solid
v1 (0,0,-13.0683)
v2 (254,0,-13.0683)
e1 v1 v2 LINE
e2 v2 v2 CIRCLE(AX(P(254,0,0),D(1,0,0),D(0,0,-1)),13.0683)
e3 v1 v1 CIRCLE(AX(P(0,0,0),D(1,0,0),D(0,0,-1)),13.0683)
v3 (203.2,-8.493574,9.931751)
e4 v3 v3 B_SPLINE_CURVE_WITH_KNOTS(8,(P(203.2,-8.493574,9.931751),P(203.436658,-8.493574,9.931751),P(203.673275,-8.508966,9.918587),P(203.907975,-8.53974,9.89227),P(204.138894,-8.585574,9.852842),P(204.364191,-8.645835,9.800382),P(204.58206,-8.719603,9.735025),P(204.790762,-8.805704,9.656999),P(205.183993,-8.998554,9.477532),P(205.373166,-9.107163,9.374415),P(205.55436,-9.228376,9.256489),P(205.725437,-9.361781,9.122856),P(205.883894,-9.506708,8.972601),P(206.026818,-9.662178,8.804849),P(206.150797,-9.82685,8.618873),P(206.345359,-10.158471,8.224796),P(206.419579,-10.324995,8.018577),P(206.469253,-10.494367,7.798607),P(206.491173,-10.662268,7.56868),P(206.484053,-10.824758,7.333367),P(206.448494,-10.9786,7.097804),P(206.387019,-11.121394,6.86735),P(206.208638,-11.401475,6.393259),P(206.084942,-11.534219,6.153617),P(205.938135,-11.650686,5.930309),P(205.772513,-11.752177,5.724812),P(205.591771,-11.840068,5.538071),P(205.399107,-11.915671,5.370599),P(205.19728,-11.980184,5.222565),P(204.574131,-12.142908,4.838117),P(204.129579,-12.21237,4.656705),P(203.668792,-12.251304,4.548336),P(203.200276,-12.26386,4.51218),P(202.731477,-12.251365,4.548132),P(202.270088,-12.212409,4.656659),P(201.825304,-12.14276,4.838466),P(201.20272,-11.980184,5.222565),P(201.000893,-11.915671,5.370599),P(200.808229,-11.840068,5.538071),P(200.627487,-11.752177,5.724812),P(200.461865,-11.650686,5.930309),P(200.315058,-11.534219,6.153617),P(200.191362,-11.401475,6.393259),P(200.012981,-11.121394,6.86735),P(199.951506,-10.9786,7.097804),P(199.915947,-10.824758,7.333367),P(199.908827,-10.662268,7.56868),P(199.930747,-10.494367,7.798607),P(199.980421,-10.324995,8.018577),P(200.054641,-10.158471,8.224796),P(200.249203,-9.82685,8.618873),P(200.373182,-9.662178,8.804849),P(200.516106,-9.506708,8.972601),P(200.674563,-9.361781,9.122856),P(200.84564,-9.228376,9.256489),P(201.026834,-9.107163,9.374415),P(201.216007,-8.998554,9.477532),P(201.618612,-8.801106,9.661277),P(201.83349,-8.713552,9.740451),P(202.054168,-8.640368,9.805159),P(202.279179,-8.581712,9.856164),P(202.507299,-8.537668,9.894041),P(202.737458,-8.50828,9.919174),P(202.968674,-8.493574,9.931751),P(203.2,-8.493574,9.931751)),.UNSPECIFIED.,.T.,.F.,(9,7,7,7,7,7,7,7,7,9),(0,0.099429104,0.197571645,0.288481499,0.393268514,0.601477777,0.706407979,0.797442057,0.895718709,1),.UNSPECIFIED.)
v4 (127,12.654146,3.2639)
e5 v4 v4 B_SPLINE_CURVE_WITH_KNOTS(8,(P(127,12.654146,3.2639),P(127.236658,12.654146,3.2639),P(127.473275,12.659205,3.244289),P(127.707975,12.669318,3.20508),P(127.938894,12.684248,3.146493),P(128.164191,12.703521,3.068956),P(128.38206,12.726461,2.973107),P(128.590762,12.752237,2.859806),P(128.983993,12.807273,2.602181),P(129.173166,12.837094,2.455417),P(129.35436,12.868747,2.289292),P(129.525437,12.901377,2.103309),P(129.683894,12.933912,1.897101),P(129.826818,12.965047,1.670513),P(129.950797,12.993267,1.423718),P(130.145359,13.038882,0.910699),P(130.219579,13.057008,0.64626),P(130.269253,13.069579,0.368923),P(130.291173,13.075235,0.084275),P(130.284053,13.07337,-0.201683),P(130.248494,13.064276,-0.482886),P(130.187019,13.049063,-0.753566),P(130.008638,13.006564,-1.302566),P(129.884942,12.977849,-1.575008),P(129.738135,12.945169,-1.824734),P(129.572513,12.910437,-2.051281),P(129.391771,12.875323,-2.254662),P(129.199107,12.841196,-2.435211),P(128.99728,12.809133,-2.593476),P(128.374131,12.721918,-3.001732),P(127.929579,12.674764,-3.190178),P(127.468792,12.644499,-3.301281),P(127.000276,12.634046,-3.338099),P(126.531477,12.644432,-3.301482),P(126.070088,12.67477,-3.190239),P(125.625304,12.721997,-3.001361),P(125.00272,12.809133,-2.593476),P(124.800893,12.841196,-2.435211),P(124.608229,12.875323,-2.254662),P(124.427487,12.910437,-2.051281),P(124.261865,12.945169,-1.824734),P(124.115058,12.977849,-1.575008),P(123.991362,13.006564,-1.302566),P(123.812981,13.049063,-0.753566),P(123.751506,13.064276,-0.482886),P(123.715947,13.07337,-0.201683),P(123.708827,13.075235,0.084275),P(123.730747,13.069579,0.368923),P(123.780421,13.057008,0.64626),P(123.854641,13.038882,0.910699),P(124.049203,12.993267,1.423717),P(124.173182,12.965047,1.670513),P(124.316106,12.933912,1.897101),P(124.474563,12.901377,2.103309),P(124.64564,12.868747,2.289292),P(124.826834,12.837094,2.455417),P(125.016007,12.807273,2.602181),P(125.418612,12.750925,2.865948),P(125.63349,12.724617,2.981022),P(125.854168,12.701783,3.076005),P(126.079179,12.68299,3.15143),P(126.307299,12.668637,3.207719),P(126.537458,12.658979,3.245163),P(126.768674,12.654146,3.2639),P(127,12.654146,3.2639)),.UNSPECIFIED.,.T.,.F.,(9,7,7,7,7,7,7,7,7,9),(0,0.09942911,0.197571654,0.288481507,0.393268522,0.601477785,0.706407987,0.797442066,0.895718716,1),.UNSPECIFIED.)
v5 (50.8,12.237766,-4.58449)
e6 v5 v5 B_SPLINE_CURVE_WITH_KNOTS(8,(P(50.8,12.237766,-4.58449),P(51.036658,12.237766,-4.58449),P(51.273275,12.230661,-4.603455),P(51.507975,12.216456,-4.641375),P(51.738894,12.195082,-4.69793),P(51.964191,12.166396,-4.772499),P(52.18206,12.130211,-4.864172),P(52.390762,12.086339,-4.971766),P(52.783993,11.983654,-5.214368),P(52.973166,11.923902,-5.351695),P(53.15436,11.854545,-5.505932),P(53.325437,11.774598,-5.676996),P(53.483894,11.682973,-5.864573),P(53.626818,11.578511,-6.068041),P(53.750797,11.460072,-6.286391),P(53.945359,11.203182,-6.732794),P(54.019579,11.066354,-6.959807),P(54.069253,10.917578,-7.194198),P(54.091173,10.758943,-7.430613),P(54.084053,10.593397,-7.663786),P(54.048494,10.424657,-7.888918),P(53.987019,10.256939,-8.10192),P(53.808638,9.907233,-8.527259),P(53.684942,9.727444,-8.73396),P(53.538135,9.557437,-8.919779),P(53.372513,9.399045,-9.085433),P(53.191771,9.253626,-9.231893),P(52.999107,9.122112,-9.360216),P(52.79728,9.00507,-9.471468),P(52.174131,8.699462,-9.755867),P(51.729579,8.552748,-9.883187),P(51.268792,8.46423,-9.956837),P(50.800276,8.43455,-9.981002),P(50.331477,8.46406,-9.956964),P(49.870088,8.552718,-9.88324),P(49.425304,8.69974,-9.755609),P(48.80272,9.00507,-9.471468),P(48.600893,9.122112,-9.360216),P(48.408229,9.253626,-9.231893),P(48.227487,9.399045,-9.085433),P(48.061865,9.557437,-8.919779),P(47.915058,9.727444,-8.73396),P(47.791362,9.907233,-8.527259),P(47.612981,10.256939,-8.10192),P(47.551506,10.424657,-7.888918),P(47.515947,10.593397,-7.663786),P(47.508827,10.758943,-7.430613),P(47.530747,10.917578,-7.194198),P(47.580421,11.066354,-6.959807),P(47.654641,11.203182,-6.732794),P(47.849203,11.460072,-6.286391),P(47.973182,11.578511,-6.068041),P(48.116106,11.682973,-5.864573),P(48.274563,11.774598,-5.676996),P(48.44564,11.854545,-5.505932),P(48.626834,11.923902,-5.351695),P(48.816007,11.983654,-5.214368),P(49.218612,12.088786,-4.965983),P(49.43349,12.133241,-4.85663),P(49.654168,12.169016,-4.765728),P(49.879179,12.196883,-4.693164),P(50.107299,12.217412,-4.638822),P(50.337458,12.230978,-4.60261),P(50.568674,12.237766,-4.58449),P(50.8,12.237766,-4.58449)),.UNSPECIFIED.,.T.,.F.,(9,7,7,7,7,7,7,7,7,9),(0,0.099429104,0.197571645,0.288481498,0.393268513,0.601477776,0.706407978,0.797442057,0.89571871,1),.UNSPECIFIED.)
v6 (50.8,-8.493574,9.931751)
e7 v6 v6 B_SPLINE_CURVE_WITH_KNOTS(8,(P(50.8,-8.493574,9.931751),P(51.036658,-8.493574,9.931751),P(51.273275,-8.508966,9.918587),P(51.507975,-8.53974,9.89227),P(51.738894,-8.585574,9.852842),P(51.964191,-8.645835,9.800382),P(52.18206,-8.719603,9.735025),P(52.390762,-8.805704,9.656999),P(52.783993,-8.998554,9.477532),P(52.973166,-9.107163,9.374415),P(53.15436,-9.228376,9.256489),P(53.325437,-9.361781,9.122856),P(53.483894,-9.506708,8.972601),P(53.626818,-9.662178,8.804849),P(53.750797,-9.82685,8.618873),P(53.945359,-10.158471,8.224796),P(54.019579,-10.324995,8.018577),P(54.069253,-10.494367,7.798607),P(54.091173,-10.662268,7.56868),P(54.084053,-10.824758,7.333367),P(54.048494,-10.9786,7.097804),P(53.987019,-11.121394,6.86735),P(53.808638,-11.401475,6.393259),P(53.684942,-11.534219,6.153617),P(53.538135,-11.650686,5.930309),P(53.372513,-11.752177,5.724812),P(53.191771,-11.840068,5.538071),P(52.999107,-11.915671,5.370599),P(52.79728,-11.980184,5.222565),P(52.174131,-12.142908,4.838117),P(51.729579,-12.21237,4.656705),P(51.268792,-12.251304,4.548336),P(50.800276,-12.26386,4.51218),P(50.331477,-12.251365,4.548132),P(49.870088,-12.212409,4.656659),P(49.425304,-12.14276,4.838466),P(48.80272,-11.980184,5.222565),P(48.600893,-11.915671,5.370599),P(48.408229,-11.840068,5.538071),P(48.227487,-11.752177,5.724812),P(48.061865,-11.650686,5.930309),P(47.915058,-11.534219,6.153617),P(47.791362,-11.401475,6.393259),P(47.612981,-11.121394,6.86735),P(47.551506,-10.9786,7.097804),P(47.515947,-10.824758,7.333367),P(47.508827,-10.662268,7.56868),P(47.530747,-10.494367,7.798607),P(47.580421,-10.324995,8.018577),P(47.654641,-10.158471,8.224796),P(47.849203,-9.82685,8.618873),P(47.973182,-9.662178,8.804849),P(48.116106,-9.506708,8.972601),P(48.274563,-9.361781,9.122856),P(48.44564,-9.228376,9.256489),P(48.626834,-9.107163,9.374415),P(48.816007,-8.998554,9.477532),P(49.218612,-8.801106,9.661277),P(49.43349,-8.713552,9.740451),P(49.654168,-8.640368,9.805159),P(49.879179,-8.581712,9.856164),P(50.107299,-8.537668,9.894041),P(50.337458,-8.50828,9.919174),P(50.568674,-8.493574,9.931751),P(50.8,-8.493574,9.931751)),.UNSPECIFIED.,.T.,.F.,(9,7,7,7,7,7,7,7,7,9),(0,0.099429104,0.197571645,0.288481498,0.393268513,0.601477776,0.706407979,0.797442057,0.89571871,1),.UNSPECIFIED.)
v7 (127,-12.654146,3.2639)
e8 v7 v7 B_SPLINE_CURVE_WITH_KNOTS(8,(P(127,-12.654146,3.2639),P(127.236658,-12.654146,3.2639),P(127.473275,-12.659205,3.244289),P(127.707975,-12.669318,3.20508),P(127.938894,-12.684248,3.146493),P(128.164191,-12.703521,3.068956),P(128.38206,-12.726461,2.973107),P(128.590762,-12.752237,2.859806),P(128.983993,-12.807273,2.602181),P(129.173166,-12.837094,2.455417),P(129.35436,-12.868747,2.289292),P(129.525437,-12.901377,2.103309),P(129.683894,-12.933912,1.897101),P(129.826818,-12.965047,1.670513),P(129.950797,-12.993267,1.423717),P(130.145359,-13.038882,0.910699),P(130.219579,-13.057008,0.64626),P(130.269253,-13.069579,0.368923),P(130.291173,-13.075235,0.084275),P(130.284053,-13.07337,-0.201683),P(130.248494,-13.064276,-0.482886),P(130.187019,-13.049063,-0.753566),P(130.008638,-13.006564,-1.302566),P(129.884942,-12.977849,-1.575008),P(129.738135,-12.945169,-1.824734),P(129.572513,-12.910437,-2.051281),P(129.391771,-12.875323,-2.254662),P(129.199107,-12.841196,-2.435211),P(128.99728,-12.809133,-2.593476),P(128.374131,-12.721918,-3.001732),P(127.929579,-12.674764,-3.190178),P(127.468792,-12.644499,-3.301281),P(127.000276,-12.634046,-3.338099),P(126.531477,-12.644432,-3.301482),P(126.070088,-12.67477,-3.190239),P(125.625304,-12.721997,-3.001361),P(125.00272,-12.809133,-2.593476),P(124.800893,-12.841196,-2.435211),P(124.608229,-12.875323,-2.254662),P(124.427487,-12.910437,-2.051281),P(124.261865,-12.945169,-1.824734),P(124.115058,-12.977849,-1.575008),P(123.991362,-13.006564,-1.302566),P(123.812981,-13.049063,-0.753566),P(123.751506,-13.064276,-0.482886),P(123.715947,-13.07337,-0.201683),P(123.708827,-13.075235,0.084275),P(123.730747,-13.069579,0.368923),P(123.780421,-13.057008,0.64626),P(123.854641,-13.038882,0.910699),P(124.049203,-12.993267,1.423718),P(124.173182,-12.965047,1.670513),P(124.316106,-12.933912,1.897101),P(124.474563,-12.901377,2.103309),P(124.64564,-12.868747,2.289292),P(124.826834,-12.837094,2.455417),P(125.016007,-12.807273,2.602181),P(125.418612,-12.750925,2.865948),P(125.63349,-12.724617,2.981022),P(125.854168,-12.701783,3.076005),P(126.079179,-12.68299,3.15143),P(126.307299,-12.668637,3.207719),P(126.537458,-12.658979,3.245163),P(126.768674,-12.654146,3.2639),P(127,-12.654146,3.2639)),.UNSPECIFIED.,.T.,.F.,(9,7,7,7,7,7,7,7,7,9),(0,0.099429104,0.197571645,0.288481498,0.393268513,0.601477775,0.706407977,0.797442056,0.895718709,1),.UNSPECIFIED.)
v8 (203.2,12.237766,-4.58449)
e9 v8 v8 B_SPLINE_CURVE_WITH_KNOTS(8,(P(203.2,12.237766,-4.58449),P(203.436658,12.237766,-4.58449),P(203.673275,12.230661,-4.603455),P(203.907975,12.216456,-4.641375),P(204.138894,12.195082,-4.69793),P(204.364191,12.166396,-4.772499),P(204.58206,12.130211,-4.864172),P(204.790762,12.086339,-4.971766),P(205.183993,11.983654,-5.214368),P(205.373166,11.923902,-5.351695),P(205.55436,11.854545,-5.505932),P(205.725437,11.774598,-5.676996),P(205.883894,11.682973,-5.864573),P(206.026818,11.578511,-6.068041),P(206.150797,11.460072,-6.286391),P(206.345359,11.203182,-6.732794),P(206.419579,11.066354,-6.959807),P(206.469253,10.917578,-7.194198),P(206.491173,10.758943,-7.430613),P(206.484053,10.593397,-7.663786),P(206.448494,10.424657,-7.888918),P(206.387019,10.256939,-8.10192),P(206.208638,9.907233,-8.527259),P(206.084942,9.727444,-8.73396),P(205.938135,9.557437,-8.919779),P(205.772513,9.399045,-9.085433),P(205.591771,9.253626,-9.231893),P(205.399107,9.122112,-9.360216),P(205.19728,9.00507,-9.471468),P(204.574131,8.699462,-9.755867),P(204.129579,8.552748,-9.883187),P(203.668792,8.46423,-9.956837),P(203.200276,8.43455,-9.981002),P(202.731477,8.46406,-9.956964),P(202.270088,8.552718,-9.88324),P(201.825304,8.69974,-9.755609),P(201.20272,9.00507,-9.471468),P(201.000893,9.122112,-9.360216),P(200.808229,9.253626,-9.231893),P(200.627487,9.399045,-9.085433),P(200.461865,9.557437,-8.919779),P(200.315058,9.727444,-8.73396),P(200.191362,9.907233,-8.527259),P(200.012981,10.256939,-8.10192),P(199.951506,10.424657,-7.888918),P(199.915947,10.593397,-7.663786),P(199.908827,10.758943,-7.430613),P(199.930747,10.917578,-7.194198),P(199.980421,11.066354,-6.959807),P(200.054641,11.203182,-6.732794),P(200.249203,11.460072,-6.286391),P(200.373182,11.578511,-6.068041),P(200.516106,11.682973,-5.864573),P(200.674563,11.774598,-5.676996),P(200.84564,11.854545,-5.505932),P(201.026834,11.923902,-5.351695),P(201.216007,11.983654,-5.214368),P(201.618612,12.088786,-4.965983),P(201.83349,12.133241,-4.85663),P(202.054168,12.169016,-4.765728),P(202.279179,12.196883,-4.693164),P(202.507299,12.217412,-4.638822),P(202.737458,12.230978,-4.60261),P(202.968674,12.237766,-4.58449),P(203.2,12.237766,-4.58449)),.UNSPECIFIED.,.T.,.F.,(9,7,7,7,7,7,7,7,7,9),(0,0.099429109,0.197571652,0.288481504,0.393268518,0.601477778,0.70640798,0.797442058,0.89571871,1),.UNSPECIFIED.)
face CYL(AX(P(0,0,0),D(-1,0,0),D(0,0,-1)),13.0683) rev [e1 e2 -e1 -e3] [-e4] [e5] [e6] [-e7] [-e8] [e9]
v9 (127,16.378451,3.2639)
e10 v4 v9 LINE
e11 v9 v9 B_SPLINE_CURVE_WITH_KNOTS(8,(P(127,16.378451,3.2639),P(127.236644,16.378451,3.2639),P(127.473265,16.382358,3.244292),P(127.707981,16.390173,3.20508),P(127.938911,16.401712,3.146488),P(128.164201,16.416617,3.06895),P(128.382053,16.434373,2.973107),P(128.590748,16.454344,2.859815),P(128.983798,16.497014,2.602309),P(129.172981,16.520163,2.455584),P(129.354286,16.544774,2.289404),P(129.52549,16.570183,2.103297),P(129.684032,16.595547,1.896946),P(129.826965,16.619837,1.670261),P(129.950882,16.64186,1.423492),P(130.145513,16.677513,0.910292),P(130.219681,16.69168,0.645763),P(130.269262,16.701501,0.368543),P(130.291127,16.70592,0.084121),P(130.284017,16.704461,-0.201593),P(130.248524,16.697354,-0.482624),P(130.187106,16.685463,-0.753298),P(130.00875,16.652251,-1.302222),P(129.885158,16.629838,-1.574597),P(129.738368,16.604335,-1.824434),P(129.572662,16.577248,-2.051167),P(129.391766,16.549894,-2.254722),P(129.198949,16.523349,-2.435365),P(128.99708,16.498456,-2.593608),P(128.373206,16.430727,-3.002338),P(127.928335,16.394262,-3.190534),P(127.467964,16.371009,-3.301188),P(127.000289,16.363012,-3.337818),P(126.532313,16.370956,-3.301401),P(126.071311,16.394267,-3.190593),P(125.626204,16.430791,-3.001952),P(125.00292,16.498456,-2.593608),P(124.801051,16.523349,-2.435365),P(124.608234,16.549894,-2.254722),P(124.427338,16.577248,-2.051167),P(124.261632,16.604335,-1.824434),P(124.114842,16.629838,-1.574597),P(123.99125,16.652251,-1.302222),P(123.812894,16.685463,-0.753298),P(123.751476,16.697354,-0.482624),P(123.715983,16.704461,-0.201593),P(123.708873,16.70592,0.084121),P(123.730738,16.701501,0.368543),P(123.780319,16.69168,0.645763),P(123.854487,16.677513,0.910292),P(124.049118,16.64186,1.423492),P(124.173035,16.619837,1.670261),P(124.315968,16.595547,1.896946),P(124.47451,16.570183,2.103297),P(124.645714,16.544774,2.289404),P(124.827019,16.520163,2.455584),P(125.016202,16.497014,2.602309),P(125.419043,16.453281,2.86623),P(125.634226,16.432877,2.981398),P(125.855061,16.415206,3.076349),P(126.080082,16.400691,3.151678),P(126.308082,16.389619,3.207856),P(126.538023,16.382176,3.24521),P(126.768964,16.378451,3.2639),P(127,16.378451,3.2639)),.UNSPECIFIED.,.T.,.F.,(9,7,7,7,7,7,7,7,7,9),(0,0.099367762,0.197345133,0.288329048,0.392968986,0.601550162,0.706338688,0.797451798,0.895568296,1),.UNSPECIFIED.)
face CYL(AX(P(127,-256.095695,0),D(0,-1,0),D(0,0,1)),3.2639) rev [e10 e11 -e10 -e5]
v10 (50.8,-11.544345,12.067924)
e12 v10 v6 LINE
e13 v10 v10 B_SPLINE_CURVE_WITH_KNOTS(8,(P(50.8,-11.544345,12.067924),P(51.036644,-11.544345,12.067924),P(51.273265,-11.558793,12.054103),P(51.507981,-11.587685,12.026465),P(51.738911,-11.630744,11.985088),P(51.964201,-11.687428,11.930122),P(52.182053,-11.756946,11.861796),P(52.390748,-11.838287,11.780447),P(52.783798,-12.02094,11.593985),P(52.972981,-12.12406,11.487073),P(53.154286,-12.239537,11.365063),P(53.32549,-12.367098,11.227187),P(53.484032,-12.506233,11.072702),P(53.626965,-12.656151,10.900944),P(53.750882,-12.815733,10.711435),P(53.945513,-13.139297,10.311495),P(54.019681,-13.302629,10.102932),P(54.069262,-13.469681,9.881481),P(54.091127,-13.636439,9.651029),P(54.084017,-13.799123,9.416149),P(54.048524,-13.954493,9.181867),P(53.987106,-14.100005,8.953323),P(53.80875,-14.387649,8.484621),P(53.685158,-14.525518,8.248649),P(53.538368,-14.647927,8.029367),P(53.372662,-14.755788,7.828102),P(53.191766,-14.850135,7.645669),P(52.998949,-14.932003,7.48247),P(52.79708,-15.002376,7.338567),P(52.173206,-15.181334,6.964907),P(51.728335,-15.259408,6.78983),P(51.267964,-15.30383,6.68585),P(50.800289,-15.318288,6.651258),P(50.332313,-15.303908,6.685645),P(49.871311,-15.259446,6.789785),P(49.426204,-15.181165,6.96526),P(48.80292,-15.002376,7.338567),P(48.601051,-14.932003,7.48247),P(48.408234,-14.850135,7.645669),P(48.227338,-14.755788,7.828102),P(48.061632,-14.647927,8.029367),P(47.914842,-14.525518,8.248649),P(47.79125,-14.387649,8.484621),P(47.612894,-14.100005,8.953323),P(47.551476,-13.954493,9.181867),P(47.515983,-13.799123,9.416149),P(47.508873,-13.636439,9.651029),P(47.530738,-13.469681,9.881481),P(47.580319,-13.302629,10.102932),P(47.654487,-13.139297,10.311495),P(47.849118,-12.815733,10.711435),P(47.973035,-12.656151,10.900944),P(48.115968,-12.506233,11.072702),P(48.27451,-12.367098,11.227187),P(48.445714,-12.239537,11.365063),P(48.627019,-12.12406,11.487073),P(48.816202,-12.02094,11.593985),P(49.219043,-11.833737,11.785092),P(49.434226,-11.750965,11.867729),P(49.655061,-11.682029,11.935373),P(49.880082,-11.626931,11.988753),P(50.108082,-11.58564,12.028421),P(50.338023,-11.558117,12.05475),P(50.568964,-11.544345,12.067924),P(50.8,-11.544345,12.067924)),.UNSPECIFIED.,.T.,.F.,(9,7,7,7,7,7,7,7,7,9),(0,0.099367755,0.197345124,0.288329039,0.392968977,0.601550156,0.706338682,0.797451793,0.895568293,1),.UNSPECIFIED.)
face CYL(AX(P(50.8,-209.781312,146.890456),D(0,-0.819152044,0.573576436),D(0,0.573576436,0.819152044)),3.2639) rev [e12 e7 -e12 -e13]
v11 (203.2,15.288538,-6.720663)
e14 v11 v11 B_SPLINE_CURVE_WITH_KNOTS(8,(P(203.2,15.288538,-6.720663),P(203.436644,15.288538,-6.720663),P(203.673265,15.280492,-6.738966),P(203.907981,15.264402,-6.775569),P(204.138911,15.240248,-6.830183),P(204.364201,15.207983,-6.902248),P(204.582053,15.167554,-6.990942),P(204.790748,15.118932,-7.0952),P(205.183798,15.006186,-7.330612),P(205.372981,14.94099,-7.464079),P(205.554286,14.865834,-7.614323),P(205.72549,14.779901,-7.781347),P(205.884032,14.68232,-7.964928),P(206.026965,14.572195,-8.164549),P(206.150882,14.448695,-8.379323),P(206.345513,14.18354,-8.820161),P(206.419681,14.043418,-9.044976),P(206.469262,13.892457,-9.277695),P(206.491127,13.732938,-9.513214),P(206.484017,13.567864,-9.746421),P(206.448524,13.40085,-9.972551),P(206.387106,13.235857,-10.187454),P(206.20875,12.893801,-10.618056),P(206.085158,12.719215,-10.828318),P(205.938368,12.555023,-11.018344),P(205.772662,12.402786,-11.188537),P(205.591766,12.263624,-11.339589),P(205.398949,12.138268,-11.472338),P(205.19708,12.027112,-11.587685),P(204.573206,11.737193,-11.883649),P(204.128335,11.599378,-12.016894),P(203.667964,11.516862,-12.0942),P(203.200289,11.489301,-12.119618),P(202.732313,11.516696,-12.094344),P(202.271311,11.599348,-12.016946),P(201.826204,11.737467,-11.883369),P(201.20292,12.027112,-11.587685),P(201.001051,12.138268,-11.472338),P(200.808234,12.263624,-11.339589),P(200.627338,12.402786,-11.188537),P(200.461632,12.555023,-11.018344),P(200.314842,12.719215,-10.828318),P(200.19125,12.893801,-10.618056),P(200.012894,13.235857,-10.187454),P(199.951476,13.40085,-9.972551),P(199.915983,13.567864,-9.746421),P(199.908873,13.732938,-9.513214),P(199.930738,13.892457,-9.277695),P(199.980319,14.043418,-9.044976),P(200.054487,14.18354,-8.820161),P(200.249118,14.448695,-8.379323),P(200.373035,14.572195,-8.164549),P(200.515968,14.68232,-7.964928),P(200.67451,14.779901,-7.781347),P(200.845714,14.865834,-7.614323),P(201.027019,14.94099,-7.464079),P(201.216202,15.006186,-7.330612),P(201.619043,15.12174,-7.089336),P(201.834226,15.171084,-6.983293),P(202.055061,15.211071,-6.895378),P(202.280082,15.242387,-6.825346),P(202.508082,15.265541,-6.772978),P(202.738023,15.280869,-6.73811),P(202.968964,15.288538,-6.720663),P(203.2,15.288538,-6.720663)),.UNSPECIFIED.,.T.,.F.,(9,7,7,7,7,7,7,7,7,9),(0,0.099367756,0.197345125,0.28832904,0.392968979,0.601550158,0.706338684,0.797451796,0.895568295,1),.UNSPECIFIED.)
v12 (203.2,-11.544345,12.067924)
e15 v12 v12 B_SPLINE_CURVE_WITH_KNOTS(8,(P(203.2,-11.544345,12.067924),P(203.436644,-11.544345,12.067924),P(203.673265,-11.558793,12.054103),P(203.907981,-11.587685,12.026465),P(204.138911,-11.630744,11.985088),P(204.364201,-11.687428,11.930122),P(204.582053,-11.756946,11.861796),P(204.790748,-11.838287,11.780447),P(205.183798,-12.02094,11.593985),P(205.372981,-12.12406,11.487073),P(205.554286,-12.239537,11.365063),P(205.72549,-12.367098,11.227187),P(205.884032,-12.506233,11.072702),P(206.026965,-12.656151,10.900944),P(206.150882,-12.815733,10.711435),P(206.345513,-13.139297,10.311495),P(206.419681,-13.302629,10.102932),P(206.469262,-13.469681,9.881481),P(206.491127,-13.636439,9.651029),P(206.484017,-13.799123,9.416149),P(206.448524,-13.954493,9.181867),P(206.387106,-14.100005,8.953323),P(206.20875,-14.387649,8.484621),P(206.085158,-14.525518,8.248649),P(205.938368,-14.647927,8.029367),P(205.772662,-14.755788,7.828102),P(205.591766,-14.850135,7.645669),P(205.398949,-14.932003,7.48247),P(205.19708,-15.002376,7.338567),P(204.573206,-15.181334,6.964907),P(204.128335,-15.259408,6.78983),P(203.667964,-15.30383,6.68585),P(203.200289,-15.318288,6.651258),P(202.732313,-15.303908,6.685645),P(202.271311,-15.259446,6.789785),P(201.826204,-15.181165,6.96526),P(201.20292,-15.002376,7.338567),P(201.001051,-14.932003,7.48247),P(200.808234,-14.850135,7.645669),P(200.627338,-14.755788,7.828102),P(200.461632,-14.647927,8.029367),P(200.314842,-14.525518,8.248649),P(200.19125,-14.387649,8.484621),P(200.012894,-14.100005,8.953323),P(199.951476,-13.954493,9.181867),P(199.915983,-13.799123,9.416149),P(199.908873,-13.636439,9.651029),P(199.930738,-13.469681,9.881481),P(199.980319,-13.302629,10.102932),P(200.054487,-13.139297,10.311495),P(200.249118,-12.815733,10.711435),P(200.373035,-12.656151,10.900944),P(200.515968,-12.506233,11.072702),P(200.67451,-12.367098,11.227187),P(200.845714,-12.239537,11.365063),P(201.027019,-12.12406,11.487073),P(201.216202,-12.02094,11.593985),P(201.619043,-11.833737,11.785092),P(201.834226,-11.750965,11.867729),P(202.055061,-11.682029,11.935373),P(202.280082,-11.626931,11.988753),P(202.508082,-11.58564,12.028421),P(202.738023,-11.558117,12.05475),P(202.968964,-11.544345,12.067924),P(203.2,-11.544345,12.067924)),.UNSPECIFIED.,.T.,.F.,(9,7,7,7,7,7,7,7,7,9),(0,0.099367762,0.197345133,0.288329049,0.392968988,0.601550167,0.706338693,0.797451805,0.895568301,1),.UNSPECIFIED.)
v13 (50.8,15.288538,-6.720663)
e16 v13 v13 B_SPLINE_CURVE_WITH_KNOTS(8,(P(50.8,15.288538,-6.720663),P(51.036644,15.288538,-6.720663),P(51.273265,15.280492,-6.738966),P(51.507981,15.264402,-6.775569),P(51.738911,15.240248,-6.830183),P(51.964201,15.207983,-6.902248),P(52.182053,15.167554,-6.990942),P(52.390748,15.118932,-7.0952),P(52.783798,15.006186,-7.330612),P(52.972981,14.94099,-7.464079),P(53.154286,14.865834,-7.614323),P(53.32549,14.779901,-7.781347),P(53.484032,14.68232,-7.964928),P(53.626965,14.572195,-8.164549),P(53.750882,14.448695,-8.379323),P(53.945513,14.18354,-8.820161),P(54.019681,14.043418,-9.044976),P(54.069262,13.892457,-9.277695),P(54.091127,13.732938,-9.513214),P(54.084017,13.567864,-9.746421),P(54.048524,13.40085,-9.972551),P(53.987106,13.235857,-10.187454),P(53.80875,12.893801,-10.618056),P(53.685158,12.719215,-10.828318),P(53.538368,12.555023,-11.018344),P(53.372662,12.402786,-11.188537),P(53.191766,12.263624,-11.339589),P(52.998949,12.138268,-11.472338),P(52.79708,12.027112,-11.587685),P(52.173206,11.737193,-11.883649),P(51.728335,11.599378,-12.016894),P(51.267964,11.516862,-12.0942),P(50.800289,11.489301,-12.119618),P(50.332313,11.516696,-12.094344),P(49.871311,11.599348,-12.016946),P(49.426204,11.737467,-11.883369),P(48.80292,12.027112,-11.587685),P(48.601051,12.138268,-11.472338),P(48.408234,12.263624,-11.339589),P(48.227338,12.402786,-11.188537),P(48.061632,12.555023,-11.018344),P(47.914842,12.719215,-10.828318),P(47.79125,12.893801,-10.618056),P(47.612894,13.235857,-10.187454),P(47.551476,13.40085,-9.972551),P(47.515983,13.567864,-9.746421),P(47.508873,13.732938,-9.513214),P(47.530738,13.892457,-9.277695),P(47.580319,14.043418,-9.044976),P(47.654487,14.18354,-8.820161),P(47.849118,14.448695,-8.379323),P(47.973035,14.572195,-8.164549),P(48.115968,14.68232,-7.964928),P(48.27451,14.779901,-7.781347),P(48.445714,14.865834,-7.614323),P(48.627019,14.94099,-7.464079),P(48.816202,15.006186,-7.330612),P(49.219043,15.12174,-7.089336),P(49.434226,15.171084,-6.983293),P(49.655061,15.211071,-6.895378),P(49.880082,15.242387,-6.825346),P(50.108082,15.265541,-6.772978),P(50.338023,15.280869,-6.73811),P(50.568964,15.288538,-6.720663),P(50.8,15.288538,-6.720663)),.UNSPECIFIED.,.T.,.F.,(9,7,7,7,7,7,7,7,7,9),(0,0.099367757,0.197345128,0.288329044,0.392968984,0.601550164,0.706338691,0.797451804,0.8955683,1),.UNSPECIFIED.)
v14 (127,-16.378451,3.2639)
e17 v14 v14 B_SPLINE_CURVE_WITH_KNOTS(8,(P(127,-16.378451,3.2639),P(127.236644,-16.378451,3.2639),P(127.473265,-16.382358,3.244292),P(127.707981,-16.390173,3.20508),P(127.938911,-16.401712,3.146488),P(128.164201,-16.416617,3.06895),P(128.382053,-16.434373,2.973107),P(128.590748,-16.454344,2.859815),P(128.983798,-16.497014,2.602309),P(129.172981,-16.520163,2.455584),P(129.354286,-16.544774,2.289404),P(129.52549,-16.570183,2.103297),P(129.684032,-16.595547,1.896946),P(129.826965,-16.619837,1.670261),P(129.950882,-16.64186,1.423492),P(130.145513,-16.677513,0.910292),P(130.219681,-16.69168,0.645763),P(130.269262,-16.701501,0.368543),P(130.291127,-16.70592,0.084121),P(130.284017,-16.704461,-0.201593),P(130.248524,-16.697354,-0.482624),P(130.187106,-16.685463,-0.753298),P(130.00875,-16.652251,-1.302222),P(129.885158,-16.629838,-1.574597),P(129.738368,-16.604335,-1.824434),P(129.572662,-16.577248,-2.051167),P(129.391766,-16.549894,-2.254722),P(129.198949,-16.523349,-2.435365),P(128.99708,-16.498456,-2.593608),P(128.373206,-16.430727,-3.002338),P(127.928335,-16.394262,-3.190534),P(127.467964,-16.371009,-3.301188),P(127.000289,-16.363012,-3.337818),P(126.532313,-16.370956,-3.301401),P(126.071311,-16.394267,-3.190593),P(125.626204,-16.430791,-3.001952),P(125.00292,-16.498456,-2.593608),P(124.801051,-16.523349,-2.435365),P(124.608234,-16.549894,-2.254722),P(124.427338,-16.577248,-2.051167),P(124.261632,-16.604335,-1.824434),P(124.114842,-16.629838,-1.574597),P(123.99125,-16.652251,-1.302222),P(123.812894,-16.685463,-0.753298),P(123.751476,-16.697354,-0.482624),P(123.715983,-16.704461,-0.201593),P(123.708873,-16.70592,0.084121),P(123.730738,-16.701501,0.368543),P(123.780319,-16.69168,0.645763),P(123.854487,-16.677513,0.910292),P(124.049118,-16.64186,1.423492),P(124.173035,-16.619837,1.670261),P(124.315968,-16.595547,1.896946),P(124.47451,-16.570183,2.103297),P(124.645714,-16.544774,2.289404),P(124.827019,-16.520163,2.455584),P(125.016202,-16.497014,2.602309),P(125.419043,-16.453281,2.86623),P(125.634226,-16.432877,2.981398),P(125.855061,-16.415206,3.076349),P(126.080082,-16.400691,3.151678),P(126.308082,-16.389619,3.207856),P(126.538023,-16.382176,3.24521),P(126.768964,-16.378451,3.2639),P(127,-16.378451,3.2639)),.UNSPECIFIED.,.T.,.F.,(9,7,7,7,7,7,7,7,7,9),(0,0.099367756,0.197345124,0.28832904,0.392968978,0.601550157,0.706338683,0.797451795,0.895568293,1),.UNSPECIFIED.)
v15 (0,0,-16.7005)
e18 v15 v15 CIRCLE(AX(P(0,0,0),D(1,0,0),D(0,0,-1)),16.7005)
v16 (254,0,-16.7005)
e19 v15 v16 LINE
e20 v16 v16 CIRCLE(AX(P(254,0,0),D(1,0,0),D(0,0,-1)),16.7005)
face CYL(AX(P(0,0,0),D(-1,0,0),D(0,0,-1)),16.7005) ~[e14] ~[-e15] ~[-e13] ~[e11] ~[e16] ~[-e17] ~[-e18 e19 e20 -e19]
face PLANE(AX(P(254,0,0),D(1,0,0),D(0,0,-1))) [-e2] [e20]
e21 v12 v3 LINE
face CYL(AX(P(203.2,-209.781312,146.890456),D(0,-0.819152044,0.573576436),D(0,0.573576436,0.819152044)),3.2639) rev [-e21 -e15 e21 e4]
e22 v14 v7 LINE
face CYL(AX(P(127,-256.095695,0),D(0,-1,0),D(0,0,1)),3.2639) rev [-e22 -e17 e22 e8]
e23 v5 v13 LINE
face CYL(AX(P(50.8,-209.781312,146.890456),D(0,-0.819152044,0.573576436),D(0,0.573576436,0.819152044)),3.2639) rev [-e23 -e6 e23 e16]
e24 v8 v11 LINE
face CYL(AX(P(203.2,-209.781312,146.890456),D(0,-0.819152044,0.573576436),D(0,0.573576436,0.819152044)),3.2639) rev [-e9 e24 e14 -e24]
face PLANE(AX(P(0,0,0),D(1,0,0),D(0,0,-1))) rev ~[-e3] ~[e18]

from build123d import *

# Parameters (mm, degrees)
SKETCH1_R               = 16.7005
SKETCH1_R_2             = 13.0683
BOSS_EXTRUDE1_DEPTH     = 254
CUT_EXTRUDE2_DEPTH      = 256.095694594
CUT_EXTRUDE2_DEPTH_BACK = 256.095694594
SKETCH3_R               = 3.2639
CUT_EXTRUDE3_DEPTH      = 256.095694707
CUT_EXTRUDE3_DEPTH_BACK = 256.095694707
SKETCH4_R               = 3.2639


with BuildPart() as part:
    # Sketch1 → Boss-Extrude1 (new body)
    with BuildSketch(Plane(origin=(0, 0, 0), x_dir=(0, 0, -1), z_dir=(1, 0, 0))):
        Circle(SKETCH1_R)
        Circle(SKETCH1_R_2, mode=Mode.SUBTRACT)
    extrude(amount=BOSS_EXTRUDE1_DEPTH)

    # Sketch3 → Cut-Extrude2 (cut, two sides: drawn at the far end of the back side and taken through both)
    with BuildSketch(Plane(origin=(0, 0, 0), x_dir=(1, 0, 0), z_dir=(0, 1, 0)).offset(-CUT_EXTRUDE2_DEPTH_BACK)):
        with Locations((127, 0)):
            Circle(SKETCH3_R)
    extrude(amount=CUT_EXTRUDE2_DEPTH + CUT_EXTRUDE2_DEPTH_BACK, mode=Mode.SUBTRACT)

    # Sketch4 → Cut-Extrude3 (cut, two sides: drawn at the far end of the back side and taken through both)
    with BuildSketch(Plane(origin=(0, 0, 0), x_dir=(-1, 0, 0), z_dir=(0, 0.819152044288991, -0.5735764363510473)).offset(-CUT_EXTRUDE3_DEPTH_BACK)):
        with Locations((-203.2, 0)):
            Circle(SKETCH4_R)
        with Locations((-50.8, 0)):
            Circle(SKETCH4_R)
    extrude(amount=CUT_EXTRUDE3_DEPTH + CUT_EXTRUDE3_DEPTH_BACK, mode=Mode.SUBTRACT)


solid = part.part
